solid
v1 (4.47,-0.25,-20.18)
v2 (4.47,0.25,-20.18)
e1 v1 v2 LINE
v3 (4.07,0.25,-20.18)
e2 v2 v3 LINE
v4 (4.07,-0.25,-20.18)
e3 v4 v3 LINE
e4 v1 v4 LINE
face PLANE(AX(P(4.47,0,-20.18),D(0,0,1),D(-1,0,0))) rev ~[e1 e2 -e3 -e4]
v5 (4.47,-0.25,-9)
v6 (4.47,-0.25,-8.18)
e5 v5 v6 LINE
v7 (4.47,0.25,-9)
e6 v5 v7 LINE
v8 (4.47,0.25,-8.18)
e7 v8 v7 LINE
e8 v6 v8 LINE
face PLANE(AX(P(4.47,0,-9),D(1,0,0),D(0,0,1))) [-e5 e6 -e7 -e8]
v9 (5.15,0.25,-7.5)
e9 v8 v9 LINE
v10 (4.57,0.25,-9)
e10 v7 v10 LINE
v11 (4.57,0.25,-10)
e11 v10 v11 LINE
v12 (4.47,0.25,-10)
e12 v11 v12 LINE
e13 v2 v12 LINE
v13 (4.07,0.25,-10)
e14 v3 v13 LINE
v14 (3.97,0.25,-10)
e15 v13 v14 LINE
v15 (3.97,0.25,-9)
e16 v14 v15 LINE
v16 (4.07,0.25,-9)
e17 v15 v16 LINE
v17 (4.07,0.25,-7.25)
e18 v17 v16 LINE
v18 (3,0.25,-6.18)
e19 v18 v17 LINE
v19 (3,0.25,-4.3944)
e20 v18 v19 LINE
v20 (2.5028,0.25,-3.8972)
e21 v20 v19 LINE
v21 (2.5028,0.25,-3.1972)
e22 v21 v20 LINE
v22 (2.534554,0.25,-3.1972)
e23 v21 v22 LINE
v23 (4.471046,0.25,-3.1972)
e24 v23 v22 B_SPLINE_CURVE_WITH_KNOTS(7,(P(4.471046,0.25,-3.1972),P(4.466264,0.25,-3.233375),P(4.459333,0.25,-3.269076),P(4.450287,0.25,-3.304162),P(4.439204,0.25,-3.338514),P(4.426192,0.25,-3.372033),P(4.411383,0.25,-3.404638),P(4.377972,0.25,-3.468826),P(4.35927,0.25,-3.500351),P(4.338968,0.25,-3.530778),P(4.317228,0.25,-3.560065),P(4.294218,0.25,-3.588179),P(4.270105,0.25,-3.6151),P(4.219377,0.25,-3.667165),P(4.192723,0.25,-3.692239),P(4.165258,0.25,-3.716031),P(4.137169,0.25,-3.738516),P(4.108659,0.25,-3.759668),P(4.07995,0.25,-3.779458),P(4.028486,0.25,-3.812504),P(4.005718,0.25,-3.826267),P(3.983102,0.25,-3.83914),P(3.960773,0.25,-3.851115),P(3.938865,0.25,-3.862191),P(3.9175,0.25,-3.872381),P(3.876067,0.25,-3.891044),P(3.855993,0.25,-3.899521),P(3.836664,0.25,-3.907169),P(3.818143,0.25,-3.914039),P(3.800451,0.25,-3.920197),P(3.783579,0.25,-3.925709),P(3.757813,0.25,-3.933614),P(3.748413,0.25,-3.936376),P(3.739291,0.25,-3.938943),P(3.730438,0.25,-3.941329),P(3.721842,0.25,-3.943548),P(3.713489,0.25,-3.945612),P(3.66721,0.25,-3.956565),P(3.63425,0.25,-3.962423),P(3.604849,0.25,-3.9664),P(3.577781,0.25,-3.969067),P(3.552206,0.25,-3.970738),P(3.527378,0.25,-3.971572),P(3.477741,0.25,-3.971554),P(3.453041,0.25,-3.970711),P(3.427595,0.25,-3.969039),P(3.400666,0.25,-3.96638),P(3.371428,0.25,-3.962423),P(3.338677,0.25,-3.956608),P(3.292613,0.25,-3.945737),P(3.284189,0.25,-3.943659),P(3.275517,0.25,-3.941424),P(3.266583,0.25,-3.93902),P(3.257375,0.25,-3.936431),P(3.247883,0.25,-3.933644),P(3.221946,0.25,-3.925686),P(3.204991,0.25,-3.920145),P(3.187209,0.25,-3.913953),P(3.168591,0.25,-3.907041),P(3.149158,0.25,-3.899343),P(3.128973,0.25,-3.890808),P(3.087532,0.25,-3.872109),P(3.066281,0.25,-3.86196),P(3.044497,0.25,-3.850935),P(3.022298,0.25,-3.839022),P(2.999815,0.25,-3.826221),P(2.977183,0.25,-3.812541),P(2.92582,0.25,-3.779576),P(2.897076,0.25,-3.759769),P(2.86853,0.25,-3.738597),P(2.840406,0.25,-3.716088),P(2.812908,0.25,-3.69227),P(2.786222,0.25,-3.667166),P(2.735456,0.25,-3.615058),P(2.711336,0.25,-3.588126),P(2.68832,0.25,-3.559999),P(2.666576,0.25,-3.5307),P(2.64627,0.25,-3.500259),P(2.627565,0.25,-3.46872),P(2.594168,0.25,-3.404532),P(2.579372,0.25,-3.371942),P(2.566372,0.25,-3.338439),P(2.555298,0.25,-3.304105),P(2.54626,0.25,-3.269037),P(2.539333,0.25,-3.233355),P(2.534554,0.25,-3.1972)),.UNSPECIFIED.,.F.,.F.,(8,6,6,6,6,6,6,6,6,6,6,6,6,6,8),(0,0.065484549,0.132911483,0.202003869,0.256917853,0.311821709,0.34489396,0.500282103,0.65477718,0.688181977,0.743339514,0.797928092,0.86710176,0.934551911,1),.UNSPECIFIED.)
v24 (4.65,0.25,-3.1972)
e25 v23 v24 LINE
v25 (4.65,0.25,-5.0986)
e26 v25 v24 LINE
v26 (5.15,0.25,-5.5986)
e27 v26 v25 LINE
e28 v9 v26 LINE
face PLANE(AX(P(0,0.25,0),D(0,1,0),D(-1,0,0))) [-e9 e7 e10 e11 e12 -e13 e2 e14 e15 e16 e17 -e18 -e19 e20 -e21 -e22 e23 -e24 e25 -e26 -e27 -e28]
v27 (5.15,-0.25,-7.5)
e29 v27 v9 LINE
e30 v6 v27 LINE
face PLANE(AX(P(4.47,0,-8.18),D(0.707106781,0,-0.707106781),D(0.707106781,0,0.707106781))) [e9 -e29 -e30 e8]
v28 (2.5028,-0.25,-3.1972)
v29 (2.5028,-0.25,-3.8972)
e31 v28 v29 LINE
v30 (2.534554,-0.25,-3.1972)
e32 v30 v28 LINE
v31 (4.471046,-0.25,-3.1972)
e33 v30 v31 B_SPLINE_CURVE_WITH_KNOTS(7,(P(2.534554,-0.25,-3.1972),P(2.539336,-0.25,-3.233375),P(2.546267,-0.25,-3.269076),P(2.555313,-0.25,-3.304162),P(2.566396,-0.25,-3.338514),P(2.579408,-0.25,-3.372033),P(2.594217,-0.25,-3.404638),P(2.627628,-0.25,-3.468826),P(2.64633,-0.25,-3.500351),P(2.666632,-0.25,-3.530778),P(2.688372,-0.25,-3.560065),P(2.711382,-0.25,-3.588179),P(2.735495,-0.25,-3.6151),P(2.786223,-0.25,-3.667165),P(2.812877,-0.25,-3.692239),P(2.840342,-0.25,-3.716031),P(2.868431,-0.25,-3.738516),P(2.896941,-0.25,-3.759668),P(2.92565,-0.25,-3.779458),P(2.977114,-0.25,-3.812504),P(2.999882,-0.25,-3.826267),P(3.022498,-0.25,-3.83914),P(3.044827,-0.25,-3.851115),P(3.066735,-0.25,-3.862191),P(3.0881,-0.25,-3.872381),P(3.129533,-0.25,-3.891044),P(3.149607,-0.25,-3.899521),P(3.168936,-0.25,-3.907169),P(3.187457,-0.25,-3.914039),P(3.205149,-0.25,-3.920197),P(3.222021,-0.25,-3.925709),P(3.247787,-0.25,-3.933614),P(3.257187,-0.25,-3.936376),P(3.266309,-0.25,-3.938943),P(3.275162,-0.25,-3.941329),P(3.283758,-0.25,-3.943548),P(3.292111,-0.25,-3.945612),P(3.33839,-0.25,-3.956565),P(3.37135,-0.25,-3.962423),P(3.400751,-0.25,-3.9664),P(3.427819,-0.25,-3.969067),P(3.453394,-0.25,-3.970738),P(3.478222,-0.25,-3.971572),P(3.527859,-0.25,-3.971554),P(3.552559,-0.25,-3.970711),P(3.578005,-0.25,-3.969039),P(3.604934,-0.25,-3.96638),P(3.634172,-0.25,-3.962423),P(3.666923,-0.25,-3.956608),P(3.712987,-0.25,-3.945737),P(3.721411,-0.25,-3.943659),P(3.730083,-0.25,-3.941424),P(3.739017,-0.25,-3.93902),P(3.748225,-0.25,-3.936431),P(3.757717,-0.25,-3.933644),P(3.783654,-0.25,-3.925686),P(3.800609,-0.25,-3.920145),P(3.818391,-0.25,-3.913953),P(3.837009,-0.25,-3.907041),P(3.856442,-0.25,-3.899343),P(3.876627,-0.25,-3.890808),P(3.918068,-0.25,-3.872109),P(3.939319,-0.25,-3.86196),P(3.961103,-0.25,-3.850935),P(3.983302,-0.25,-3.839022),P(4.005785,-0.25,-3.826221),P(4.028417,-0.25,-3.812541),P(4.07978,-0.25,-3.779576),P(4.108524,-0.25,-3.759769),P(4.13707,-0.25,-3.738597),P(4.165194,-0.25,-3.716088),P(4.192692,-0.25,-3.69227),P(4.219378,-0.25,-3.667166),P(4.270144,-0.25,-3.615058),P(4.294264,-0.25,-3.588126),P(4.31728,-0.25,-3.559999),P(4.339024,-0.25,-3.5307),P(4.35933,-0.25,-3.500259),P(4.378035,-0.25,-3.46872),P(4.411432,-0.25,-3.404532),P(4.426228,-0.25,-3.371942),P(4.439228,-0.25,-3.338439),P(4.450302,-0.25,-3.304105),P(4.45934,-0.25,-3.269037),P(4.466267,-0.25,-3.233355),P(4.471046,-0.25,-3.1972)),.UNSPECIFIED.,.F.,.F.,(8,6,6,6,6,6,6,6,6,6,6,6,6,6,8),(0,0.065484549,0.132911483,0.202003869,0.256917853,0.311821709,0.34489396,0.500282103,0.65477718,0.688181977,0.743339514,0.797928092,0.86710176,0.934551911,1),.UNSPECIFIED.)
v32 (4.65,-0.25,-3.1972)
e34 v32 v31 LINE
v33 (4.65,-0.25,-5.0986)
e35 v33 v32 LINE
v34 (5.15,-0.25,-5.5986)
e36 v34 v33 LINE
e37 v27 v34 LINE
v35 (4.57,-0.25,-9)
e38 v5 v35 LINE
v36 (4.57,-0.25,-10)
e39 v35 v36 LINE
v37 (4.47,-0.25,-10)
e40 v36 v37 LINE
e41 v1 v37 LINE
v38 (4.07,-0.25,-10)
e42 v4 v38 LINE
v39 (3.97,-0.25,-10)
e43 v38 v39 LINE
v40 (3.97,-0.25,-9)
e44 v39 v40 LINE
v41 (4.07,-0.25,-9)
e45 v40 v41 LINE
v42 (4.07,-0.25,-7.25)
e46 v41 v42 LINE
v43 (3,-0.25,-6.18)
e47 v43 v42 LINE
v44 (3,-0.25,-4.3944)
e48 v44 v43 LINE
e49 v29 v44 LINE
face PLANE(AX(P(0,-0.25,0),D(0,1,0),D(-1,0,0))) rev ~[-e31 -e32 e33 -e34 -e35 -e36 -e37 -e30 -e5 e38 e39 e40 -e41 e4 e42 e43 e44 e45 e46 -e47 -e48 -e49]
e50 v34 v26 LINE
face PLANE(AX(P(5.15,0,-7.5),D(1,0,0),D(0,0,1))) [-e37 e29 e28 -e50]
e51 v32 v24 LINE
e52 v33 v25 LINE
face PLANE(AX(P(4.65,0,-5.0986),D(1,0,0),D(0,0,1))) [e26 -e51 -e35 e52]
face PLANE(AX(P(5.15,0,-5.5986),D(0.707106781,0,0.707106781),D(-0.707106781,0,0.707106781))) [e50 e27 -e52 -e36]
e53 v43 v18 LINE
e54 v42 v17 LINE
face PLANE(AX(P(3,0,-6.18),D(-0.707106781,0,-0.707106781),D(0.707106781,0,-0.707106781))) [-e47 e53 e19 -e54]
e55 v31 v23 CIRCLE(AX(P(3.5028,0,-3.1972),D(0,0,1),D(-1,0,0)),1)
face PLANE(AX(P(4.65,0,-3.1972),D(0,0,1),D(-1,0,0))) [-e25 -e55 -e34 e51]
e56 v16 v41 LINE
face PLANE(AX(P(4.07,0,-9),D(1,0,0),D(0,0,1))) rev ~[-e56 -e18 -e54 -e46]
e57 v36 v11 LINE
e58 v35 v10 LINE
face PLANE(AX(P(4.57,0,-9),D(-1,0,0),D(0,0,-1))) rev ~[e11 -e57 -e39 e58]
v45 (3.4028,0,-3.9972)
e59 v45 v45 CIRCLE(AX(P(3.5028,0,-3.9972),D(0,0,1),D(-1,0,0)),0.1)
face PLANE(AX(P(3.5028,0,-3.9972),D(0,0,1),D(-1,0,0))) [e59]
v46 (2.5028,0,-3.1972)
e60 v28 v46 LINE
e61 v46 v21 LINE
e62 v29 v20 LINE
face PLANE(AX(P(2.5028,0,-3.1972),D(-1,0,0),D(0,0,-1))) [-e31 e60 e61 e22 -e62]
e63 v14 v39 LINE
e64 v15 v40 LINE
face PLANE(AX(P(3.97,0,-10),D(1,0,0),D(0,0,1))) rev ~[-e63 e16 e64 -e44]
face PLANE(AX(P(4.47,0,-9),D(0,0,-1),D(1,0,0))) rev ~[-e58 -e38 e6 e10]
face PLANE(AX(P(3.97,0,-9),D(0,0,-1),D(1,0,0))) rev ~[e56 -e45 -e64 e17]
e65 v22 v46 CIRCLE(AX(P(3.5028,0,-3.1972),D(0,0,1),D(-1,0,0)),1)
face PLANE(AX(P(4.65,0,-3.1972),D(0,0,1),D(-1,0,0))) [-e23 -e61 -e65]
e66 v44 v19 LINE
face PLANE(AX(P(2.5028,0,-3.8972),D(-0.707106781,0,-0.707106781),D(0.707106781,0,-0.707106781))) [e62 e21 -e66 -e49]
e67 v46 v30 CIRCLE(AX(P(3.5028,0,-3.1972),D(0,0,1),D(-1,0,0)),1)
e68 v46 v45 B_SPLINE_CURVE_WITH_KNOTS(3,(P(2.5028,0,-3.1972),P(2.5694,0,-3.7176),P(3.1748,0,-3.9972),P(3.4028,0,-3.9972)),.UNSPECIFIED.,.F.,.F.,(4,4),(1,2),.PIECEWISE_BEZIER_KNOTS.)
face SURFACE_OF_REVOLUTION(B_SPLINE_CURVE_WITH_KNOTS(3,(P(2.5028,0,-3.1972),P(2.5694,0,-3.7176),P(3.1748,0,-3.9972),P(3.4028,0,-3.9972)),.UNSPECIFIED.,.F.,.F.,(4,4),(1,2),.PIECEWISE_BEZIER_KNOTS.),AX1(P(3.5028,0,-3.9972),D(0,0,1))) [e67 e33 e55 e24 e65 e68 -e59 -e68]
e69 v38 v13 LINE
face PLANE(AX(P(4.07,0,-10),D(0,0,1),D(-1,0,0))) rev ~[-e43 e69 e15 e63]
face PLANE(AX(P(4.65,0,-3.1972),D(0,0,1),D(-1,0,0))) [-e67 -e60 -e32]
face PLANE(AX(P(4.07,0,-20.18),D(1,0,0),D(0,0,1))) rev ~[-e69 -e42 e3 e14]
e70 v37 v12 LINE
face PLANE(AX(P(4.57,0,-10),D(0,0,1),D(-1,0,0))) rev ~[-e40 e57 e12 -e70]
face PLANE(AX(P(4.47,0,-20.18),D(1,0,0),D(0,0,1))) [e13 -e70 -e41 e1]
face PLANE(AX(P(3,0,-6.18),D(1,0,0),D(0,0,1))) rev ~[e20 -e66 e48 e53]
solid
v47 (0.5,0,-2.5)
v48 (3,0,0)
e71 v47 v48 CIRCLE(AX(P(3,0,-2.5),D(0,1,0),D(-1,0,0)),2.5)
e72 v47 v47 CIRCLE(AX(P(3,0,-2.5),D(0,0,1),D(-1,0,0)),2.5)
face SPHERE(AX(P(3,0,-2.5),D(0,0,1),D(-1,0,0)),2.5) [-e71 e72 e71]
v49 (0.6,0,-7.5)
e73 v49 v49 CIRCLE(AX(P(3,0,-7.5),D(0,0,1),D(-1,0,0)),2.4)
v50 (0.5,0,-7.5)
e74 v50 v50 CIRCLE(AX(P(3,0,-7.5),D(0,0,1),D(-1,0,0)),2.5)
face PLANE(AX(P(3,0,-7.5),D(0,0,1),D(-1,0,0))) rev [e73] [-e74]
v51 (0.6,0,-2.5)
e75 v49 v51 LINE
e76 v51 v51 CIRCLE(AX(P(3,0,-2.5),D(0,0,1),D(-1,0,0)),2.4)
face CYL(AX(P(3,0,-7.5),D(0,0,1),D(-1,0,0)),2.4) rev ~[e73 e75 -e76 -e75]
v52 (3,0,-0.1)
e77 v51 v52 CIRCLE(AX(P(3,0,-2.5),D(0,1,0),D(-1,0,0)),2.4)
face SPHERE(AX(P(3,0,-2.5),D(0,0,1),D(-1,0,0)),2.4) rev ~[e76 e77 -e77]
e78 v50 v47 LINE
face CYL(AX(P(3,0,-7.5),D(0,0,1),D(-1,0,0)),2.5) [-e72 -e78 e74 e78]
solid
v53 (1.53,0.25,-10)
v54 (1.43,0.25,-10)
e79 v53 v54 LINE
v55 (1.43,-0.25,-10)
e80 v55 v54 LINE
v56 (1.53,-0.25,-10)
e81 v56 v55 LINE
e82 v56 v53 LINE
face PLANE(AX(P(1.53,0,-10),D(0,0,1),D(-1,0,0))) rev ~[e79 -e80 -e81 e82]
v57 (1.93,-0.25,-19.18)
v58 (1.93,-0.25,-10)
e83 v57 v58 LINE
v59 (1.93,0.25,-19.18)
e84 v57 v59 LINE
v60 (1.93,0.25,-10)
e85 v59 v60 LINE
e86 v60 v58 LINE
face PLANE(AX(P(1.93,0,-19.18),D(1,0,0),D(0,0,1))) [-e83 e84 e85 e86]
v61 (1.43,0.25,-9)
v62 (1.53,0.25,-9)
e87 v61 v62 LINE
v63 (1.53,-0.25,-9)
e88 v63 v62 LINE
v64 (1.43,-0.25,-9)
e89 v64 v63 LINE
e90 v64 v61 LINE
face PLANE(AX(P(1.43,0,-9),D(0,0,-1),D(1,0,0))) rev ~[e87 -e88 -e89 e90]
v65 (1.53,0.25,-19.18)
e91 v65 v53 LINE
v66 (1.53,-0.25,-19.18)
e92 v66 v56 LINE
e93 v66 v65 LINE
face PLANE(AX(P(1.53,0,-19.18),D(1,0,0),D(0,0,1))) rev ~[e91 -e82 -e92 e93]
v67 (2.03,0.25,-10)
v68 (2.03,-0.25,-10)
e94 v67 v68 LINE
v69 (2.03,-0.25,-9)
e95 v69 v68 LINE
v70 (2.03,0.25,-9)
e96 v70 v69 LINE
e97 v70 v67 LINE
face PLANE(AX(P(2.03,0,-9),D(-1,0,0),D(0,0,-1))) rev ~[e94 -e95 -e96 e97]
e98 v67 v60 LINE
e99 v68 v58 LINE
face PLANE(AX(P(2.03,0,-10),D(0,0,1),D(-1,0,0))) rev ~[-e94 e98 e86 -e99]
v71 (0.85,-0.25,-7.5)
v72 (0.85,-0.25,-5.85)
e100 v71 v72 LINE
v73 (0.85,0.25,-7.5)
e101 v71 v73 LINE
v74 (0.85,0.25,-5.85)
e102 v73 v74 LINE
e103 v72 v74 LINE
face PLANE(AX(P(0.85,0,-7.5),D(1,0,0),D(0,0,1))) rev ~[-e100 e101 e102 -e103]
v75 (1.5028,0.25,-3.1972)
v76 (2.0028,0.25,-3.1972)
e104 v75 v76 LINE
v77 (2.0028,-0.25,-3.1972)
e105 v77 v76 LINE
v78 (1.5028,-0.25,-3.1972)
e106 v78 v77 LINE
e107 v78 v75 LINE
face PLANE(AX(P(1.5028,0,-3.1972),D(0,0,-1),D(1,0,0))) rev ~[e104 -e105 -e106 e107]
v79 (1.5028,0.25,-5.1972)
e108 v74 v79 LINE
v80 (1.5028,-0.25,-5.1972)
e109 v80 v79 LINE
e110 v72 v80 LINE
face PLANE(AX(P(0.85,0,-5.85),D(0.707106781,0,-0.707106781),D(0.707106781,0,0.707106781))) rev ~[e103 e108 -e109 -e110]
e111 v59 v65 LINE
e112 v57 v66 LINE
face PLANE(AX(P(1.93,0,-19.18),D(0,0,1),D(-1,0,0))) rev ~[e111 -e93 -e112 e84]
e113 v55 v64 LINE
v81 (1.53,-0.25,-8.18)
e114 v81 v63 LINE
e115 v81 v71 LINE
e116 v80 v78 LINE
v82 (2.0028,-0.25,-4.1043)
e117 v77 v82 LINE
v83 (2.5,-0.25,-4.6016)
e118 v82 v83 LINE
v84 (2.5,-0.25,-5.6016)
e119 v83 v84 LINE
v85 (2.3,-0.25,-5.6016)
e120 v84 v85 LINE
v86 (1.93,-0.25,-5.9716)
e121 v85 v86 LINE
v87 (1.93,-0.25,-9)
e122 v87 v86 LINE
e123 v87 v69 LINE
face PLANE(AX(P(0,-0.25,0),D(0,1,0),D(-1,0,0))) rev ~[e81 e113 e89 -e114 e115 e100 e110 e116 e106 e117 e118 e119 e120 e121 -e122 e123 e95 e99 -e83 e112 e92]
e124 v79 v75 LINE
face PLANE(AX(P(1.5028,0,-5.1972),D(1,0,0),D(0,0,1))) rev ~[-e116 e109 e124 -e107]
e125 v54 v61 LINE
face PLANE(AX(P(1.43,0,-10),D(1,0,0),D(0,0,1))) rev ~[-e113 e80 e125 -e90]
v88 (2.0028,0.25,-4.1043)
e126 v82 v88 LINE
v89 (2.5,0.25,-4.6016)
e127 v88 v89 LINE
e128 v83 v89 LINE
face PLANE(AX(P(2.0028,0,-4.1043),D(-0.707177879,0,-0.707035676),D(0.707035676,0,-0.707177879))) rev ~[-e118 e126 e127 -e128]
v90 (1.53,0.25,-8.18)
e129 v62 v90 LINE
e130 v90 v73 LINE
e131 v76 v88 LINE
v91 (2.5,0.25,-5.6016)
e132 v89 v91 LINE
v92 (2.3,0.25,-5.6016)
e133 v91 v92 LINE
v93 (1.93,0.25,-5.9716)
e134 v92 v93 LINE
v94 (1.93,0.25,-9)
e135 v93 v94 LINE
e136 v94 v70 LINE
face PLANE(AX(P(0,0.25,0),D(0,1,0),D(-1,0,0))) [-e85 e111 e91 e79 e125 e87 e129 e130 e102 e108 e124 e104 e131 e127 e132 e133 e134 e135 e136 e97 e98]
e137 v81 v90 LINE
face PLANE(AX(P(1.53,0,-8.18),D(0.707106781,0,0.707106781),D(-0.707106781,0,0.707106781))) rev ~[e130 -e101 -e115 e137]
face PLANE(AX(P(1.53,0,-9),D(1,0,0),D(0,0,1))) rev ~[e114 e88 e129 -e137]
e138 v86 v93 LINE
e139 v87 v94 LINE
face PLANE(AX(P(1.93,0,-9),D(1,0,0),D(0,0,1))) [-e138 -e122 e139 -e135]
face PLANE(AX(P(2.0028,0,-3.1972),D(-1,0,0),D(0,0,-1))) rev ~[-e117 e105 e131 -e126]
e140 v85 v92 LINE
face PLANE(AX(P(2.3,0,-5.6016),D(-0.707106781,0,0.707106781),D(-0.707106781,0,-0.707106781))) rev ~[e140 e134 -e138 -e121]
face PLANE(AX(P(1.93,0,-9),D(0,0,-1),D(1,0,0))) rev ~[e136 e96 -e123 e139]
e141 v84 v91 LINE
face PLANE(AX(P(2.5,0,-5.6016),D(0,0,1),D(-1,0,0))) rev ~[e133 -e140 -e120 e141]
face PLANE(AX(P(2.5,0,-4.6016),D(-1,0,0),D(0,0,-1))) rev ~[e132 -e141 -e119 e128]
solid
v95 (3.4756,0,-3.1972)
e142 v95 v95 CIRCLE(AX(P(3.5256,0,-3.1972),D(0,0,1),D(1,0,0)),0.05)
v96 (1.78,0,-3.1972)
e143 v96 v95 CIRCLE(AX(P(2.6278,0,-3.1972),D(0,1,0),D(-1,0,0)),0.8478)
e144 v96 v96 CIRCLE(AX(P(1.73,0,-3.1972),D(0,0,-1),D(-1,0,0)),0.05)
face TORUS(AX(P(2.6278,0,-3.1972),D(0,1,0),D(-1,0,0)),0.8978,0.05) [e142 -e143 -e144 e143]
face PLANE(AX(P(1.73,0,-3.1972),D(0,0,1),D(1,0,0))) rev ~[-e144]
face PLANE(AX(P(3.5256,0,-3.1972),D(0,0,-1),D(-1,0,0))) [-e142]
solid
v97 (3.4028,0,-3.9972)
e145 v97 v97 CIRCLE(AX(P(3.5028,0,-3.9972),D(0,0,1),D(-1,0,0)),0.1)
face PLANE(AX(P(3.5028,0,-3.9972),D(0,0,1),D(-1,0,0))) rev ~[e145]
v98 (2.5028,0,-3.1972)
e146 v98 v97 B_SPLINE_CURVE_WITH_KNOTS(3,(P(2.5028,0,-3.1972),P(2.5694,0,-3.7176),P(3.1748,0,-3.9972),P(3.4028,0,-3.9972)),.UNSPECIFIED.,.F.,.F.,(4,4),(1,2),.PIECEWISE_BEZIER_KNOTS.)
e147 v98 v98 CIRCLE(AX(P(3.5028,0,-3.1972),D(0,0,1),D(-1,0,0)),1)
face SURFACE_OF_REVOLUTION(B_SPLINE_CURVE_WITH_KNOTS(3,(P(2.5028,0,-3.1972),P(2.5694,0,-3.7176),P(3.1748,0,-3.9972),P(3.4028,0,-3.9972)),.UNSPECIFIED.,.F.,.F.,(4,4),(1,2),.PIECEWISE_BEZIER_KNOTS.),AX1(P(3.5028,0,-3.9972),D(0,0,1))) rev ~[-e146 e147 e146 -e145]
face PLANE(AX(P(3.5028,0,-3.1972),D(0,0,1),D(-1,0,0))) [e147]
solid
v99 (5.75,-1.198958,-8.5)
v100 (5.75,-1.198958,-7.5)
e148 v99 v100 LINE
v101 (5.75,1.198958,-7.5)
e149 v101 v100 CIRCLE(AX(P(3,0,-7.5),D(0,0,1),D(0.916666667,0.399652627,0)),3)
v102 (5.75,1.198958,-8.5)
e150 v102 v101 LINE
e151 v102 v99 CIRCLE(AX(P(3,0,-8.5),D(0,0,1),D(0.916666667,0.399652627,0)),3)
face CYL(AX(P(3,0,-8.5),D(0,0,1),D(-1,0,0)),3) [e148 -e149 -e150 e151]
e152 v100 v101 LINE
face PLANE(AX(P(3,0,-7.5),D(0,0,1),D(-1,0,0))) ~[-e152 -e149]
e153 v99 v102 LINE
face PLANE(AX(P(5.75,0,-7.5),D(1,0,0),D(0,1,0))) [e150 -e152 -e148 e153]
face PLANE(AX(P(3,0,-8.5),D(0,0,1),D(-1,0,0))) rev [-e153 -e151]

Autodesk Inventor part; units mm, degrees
ref_plane "YZ Plane" through (0, 0, 0) normal (1, 0, 0) x (0, 1, 0)
ref_plane "XZ Plane" through (0, 0, 0) normal (0, 1, 0) x (-1, 0, 0)
ref_plane "XY Plane" through (0, 0, 0) normal (0, 0, 1) x (1, 0, 0)
sketch "Sketch1" plane through (0, 0, 0) normal (0, 1, 0) x (-1, 0, 0)
  line L0 (-1.93, -19.18) -> (-1.53, -19.18)
  line L1 (-4.47, -20.18) -> (-4.07, -20.18)
  line L2 (-0.5, -2.5) -> (-5.5, -2.5) construction
  line L3 (-5.5, -2.5) -> (-5.5, -7.5)
  line L4 (-5.5, -7.5) -> (-0.5, -7.5)
  line L5 (-0.5, -7.5) -> (-0.5, -2.5)
  line L6 (0, -7.5) -> (-6, -7.5)
  line L7 (-6, -7.5) -> (-6, -8.5)
  line L8 (-6, -8.5) -> (0, -8.5)
  line L9 (0, -8.5) -> (0, -7.5)
  arc A0 (-0.5, -2.5) -> (-5.5, -2.5) centre (-3, -2.5) ccw
  line L10 (0, -24.216) -> (0, 4.0361) projected
  line L11 (17.1925, 0) -> (-9.8654, 0) projected
  line L12 (-3, -8.5) -> (-3, -19.8408) construction
  line L13 (-1.53, -19.18) -> (-1.53, -10)
  line L14 (-1.93, -19.18) -> (-1.93, -10)
  line L15 (-4.07, -20.18) -> (-4.07, -10)
  line L16 (-4.47, -20.18) -> (-4.47, -10)
  line L17 (-3, -8.5) -> (-3, 0)
  line L18 (-6, -19.8408) -> (0, -19.8408) construction
  line L19 (-1.43, -9) -> (-1.53, -9)
  line L20 (-2.03, -9) -> (-2.03, -10)
  line L21 (-2.03, -10) -> (-1.93, -10)
  line L22 (-1.43, -10) -> (-1.43, -9)
  line L23 (-3.97, -9) -> (-4.07, -9)
  line L24 (-4.57, -9) -> (-4.57, -10)
  line L25 (-4.57, -10) -> (-4.47, -10)
  line L26 (-3.97, -10) -> (-3.97, -9)
  line L27 (-1.93, -9) -> (-2.03, -9)
  line L28 (-4.07, -9) -> (-4.07, -7.25)
  line L29 (-4.47, -9) -> (-4.57, -9)
  line L30 (-4.07, -10) -> (-3.97, -10)
  line L31 (-1.53, -10) -> (-1.43, -10)
  line L32 (-4.47, -9) -> (-4.47, -8.18)
  line L33 (-1.93, -9) -> (-1.93, -5.9716)
  line L34 (-1.53, -9) -> (-1.53, -8.18)
  line L35 (-4.47, -8.18) -> (-5.15, -7.5)
  line L36 (-1.53, -8.18) -> (-0.85, -7.5)
  line L37 (-0.85, -7.5) -> (-0.85, -5.85)
  line L38 (-5.15, -7.5) -> (-5.15, -5.5986)
  line L39 (-5.15, -5.5986) -> (-4.65, -5.0986)
  line L40 (-4.65, -5.0986) -> (-4.65, -3.1972)
  line L41 (-4.65, -3.1972) -> (-2.5028, -3.1972)
  line L42 (-0.85, -5.85) -> (-1.5028, -5.1972)
  line L43 (-1.5028, -5.1972) -> (-1.5028, -3.1972)
  line L44 (-1.5028, -3.1972) -> (-2.0028, -3.1972)
  line L45 (-2.0028, -3.1972) -> (-2.0028, -4.1043)
  line L46 (-2.0028, -4.1043) -> (-2.5, -4.6016)
  line L47 (-2.5, -4.6016) -> (-2.5, -5.6016)
  line L48 (-2.5, -5.6016) -> (-2.3, -5.6016)
  line L49 (-2.3, -5.6016) -> (-1.93, -5.9716)
  line L50 (8.8309, -12.5892) -> (8.8309, -17.0713)
  line L51 (8.7309, -12.5892) -> (8.8309, -12.5892)
  line L52 (8.8309, -17.0713) -> (9.3309, -17.0713)
  line L53 (9.3309, -17.0713) -> (9.3309, -12.5892)
  line L54 (11.3309, -18.2444) -> (11.8309, -18.2444)
  line L55 (11.3309, -12.5815) -> (11.3309, -18.2444)
  line L56 (11.8309, -18.2444) -> (11.8309, -12.5815)
  line L57 (8.2266, -6.0537) -> (8.2266, -7.4999)
  line L58 (8.5861, -5.6941) -> (8.2266, -6.0537)
  line L59 (8.5861, -4.3452) -> (8.5861, -5.6941)
  line L60 (8.2266, -7.4999) -> (8.8309, -8.1043)
  line L61 (9.3309, -7.3282) -> (9.7365, -6.9226)
  line L62 (9.7365, -6.9226) -> (10.3309, -6.9226)
  line L63 (10.3309, -6.9226) -> (10.3309, -5.844)
  line L64 (8.5861, -4.3452) -> (11.2106, -4.3452)
  line L65 (10.8309, -6.0512) -> (10.8309, -6.9149)
  line L66 (10.8309, -6.9149) -> (11.1527, -6.9149)
  line L67 (11.2393, -4.3452) -> (11.2106, -4.3452)
  line L68 (11.1527, -6.9149) -> (11.3309, -7.0932)
  line L69 (11.8309, -8.0966) -> (12.4276, -7.4999)
  line L70 (12.4276, -7.4999) -> (12.4276, -5.8553)
  line L71 (9.4309, -11.5892) -> (9.3309, -11.5892)
  line L72 (11.8309, -11.5815) -> (11.8309, -8.0966)
  line L73 (8.8309, -8.1043) -> (8.8309, -11.5892)
  line L74 (11.3309, -7.0932) -> (11.3309, -11.5815)
  line L75 (9.3309, -11.5892) -> (9.3309, -7.3282)
  line L76 (10.3309, -5.844) -> (11.2106, -4.9643)
  line L77 (11.7107, -5.1714) -> (10.8309, -6.0512)
  line L78 (11.2106, -4.3452) -> (11.2393, -4.3452) construction
  line L79 (12.4276, -5.8553) -> (12.2082, -5.6359)
  line L80 (11.2106, -4.2719) -> (11.2106, -4.3452)
  line L81 (11.2106, -4.9643) -> (11.2106, -4.2719)
  line L82 (11.2106, -4.2719) -> (11.2393, -4.3452)
  line L83 (11.7107, -4.3453) -> (11.7107, -5.1714)
  line L84 (10.8445, -3.7709) -> (11.3445, -3.7709) construction
  spline S0 degree 3 poles (11.9954, -4.3997) (11.9862, -4.3486) (11.9578, -4.2521) (11.8889, -4.1254) (11.7974, -4.0171) (11.6749, -3.9177) (11.5186, -3.8358) (11.3301, -3.782) (11.1322, -3.7647) (10.9338, -3.7851) (10.7437, -3.8443) (10.5851, -3.9352) (10.4598, -4.0478) (10.3654, -4.1727) (10.2931, -4.3216) (10.262, -4.4371) (10.2513, -4.4991) knots 0 0 0 0 0.0625 0.125 0.1875 0.25 0.333333 0.416667 0.5 0.583333 0.666667 0.75 0.8125 0.875 0.9375 1 1 1 1
  line L85 (12.2082, -4.3453) -> (11.7107, -4.3453)
  line L86 (12.2082, -5.6359) -> (12.2082, -4.3453)
  line L87 (9.3309, -12.5892) -> (9.4309, -12.5892)
  line L88 (11.2309, -12.5815) -> (11.3309, -12.5815)
  line L89 (11.8309, -12.5815) -> (11.9309, -12.5815)
  line L90 (8.7309, -11.5892) -> (8.7309, -12.5892)
  line L91 (8.8309, -11.5892) -> (8.7309, -11.5892)
  line L92 (9.4309, -12.5892) -> (9.4309, -11.5892)
  line L93 (11.3309, -11.5815) -> (11.2309, -11.5815)
  line L94 (11.2309, -11.5815) -> (11.2309, -12.5815)
  line L95 (11.9309, -12.5815) -> (11.9309, -11.5815)
  line L96 (11.9309, -11.5815) -> (11.8309, -11.5815)
  line L97 (13.3271, -7.4999) -> (7.3271, -7.4999)
  line L98 (7.3271, -7.4999) -> (7.3271, -8.4999)
  line L99 (7.3271, -8.4999) -> (13.3271, -8.4999)
  line L100 (13.3271, -8.4999) -> (13.3271, -7.4999)
  line L101 (12.4276, -7.4999) -> (8.2266, -7.4999)
  line L102 (12.8271, -7.4999) -> (7.8271, -7.4999)
  line L103 (7.8271, -7.4999) -> (7.8271, -2.4999)
  line L104 (7.8271, -2.4999) -> (12.8271, -2.4999) construction
  line L105 (12.8271, -2.4999) -> (12.8271, -7.4999)
  arc A1 (12.8271, -2.4999) -> (7.8271, -2.4999) centre (10.3271, -2.4999) ccw
  line L106 (-2.5028, -3.1972) -> (-2.5028, -3.8972)
  line L107 (-2.5028, -3.8972) -> (-3, -4.3944)
  line L108 (-3, -4.3944) -> (-3, -5.9975)
  line L109 (-3, -6.18) -> (-4.07, -7.25)
  line L110 (-2.5028, -3.1972) -> (-2.0028, -3.1972) construction
  line L111 (-2.5, -5.6016) -> (-3, -5.9975) construction
  point P0 (0, 0)
  point P1 (-3, -7.5)
  point P2 (0, -8)
  point P3 (-1.73, -19.18)
  point P4 (-4.27, -20.18)
  point P5 (-3, -7.5)
  point P6 (0, 0)
  point P7 (7.8271, -7.4999)
  point P8 (10.3271, -7.4999)
  point P9 (-3, -5.196)
  point P10 (-3, -4.3944)
  point P11 (-3, -3.1972)
  dimension "d10" = 5
  dimension "d12" = 6
  dimension "d13" = 5
  dimension "d14" = 6
  dimension "Jarak_Kaki" = 2.54
  dimension "d18" = 1
  dimension "d19" = 0.4
  dimension "d20" = 1.27
  dimension "Panjang_Kaki" = 12
  dimension "d30" = 0.6
  dimension "d31" = 1
  dimension "d32" = 0.5
  dimension "d34" = 135
  dimension "d35" = 0.35
  dimension "d51" = 0.5
  dimension "d76" = 1.65
  dimension "d82" = 2.5
  dimension "d83" = 0.5
  dimension "d84" = 0.5
  dimension "d85" = 1
  dimension "d86" = 0.5
  dimension "d87" = 0.5
  dimension "d89" = 0.7
  dimension "d92" = 0.5
  dimension "d93" = 0.25
  dimension "d95" = 1
  dimension "d104" = 0.2
  dimension "d106" = 2
revolve "Revolution1" add sketch "Sketch1" angle 360 about axis through (3, 0, -8.5) along (0, 0, 1) contours L33 L49 L48 L47 L46 L45 L44 L43 L42 L37 L4 | L4 L17 L107 L106 L41 A0 L5 L37 L42 L43 L44 L45 L46 L47 L48 L49 L33 | L17 L41 L106 L107
shell "Shell1" thickness 0.1 removed faces 1 at (3.6238, -0.5526, -7.5)
revolve "Revolution2" add sketch "Sketch1" angle 360 about axis through (3, 0, -8.5) along (0, 0, 1) separate body contours L33 L4 L36 L34 L8 | L8 L17 L4 L33 | L34 L36 L4 L6 L9 L8
sketch "Sketch2" plane through (3, 0, -7.5) normal (0, 0, 1) x (1, 0, 0)
  line L0 (2.75, 2.5) -> (3.75, 2.5)
  line L1 (3.75, 2.5) -> (3.75, -2.5)
  line L2 (3.75, -2.5) -> (2.75, -2.5)
  line L3 (2.75, -2.5) -> (2.75, 2.5)
  circle A0 centre (0, 0) radius 2.5 projected
  circle A1 centre (0, 0) radius 2.5 projected
  line L4 (-3, -4.2) -> (-3, 4.2) construction
  line L5 (2.5, -1.6681) -> (2.5, 1.3873) construction
  line L6 (-4.368, 0) -> (5.2078, 0) projected
  point P0 (-3, 0)
  point P1 (2.75, 0)
  dimension "d110" = 0.25
  dimension "d111" = 5
  dimension "d112" = 1
extrude "Extrusion1" cut sketch "Sketch2" against normal up to next contours L0 L1 L6 L3 | L6 L1 L2 L3 bodies 2
extrude "Extrusion2" add sketch "Sketch1" along normal mid plane 0.5 separate body contours L14 L21 L20 L27 L33 L8 L34 L19 L22 L31 L13 L0 | L33 L4 L36 L34 L8 | L33 L49 L48 L47 L46 L45 L44 L43 L42 L37 L4 | L28 L23 L26 L30 L15 L1 L16 L25 L24 L29 L32 L8 | L8 L32 L35 L4 L28 | L4 L38 L39 L40 L41 L17 L109 L28 | L17 L41 L106 L107
sketch "Sketch3" plane through (2.4, 0, -4) normal (0, 1, 0) x (1, 0, 0)
  line L0 (0.1028, -0.1028) -> (0.1028, -0.8028) projected
  line L1 (0.1028, -0.8028) -> (0.1694, -0.2824) construction
  line L2 (0.1694, -0.2824) -> (0.7748, -0.0028) construction
  line L3 (0.7748, -0.0028) -> (1.0028, -0.0028) construction
  spline S0 degree 3 poles (0.1028, -0.8028) (0.1694, -0.2824) (0.7748, -0.0028) (1.0028, -0.0028) knots 1 1 1 1 2 2 2 2
  line L4 (0.1028, -0.8028) -> (2.25, -0.8028) projected
  line L5 (1.0028, -0.0028) -> (1.1028, -0.0028)
  line L6 (1.1028, -0.0028) -> (1.1028, -0.8028)
  dimension "d99" = 0.8
  dimension "d100" = 0.9
  dimension "d101" = 0.1
revolve "Revolution3" cut sketch "Sketch3" angle 360 about axis through (3.5028, 0, -3.9972) along (0, 0, 1) bodies 3
revolve "Revolution4" add sketch "Sketch3" angle 360 about axis through (3.5028, 0, -3.9972) along (0, 0, 1) separate body
sketch "Sketch4" plane through (3.5028, 0, -3.1972) normal (0, 0, 1) x (1, 0, 0)
  circle A0 centre (-1.7728, 0) radius 0.05
  line L0 (-2, -0.25) -> (-2, 0.25) construction
  line L1 (-2, 0.25) -> (-1.5, 0.25) construction
  line L2 (-1.5728, 0.25) -> (-1.9728, 0.25) construction
  line L3 (-2, 0) -> (-1.7728, 0) construction
  line L4 (-1.7728, 0) -> (-1.7728, 0.25) construction
  line L5 (-1.7728, 0.25) -> (-2, 0.25) construction
  line L6 (-2, 0.25) -> (-2, 0) construction
  circle A1 centre (0, 0) radius 0.05
  point P0 (-3.5028, 0)
  dimension "d109" = 0.1
sketch "Sketch5" plane through (0, 0, 0) normal (0, 1, 0) x (-1, 0, 0)
  line L0 (-5.5, -2.5) -> (-0.5, -2.5) construction
  line L1 (-5.5, -7.5) -> (-0.5, -7.5) construction
  line L2 (-1.5028, -3.1972) -> (-2.0028, -3.1972) construction
  line L3 (-4.5028, -3.1972) -> (-2.5028, -3.1972) construction
  line L4 (-1.7528, -3.1972) -> (-3.5028, -3.1972) construction
  arc A0 (-1.7528, -3.1972) -> (-3.5028, -3.1972) centre (-2.6278, -3.1972) ccw
  point P0 (0, 0)
sweep "Sweep1" add profiles "Sketch4" path "Sketch5" separate body contours A0
equation "\"d10\" = Diameter_Led"
equation "\"d13\" = Diameter_Led"
equation "\"d20\" = 0.5 * Jarak_Kaki"
equation "\"Diameter_Led\" = 5"
properties part number "LED 5mm"
